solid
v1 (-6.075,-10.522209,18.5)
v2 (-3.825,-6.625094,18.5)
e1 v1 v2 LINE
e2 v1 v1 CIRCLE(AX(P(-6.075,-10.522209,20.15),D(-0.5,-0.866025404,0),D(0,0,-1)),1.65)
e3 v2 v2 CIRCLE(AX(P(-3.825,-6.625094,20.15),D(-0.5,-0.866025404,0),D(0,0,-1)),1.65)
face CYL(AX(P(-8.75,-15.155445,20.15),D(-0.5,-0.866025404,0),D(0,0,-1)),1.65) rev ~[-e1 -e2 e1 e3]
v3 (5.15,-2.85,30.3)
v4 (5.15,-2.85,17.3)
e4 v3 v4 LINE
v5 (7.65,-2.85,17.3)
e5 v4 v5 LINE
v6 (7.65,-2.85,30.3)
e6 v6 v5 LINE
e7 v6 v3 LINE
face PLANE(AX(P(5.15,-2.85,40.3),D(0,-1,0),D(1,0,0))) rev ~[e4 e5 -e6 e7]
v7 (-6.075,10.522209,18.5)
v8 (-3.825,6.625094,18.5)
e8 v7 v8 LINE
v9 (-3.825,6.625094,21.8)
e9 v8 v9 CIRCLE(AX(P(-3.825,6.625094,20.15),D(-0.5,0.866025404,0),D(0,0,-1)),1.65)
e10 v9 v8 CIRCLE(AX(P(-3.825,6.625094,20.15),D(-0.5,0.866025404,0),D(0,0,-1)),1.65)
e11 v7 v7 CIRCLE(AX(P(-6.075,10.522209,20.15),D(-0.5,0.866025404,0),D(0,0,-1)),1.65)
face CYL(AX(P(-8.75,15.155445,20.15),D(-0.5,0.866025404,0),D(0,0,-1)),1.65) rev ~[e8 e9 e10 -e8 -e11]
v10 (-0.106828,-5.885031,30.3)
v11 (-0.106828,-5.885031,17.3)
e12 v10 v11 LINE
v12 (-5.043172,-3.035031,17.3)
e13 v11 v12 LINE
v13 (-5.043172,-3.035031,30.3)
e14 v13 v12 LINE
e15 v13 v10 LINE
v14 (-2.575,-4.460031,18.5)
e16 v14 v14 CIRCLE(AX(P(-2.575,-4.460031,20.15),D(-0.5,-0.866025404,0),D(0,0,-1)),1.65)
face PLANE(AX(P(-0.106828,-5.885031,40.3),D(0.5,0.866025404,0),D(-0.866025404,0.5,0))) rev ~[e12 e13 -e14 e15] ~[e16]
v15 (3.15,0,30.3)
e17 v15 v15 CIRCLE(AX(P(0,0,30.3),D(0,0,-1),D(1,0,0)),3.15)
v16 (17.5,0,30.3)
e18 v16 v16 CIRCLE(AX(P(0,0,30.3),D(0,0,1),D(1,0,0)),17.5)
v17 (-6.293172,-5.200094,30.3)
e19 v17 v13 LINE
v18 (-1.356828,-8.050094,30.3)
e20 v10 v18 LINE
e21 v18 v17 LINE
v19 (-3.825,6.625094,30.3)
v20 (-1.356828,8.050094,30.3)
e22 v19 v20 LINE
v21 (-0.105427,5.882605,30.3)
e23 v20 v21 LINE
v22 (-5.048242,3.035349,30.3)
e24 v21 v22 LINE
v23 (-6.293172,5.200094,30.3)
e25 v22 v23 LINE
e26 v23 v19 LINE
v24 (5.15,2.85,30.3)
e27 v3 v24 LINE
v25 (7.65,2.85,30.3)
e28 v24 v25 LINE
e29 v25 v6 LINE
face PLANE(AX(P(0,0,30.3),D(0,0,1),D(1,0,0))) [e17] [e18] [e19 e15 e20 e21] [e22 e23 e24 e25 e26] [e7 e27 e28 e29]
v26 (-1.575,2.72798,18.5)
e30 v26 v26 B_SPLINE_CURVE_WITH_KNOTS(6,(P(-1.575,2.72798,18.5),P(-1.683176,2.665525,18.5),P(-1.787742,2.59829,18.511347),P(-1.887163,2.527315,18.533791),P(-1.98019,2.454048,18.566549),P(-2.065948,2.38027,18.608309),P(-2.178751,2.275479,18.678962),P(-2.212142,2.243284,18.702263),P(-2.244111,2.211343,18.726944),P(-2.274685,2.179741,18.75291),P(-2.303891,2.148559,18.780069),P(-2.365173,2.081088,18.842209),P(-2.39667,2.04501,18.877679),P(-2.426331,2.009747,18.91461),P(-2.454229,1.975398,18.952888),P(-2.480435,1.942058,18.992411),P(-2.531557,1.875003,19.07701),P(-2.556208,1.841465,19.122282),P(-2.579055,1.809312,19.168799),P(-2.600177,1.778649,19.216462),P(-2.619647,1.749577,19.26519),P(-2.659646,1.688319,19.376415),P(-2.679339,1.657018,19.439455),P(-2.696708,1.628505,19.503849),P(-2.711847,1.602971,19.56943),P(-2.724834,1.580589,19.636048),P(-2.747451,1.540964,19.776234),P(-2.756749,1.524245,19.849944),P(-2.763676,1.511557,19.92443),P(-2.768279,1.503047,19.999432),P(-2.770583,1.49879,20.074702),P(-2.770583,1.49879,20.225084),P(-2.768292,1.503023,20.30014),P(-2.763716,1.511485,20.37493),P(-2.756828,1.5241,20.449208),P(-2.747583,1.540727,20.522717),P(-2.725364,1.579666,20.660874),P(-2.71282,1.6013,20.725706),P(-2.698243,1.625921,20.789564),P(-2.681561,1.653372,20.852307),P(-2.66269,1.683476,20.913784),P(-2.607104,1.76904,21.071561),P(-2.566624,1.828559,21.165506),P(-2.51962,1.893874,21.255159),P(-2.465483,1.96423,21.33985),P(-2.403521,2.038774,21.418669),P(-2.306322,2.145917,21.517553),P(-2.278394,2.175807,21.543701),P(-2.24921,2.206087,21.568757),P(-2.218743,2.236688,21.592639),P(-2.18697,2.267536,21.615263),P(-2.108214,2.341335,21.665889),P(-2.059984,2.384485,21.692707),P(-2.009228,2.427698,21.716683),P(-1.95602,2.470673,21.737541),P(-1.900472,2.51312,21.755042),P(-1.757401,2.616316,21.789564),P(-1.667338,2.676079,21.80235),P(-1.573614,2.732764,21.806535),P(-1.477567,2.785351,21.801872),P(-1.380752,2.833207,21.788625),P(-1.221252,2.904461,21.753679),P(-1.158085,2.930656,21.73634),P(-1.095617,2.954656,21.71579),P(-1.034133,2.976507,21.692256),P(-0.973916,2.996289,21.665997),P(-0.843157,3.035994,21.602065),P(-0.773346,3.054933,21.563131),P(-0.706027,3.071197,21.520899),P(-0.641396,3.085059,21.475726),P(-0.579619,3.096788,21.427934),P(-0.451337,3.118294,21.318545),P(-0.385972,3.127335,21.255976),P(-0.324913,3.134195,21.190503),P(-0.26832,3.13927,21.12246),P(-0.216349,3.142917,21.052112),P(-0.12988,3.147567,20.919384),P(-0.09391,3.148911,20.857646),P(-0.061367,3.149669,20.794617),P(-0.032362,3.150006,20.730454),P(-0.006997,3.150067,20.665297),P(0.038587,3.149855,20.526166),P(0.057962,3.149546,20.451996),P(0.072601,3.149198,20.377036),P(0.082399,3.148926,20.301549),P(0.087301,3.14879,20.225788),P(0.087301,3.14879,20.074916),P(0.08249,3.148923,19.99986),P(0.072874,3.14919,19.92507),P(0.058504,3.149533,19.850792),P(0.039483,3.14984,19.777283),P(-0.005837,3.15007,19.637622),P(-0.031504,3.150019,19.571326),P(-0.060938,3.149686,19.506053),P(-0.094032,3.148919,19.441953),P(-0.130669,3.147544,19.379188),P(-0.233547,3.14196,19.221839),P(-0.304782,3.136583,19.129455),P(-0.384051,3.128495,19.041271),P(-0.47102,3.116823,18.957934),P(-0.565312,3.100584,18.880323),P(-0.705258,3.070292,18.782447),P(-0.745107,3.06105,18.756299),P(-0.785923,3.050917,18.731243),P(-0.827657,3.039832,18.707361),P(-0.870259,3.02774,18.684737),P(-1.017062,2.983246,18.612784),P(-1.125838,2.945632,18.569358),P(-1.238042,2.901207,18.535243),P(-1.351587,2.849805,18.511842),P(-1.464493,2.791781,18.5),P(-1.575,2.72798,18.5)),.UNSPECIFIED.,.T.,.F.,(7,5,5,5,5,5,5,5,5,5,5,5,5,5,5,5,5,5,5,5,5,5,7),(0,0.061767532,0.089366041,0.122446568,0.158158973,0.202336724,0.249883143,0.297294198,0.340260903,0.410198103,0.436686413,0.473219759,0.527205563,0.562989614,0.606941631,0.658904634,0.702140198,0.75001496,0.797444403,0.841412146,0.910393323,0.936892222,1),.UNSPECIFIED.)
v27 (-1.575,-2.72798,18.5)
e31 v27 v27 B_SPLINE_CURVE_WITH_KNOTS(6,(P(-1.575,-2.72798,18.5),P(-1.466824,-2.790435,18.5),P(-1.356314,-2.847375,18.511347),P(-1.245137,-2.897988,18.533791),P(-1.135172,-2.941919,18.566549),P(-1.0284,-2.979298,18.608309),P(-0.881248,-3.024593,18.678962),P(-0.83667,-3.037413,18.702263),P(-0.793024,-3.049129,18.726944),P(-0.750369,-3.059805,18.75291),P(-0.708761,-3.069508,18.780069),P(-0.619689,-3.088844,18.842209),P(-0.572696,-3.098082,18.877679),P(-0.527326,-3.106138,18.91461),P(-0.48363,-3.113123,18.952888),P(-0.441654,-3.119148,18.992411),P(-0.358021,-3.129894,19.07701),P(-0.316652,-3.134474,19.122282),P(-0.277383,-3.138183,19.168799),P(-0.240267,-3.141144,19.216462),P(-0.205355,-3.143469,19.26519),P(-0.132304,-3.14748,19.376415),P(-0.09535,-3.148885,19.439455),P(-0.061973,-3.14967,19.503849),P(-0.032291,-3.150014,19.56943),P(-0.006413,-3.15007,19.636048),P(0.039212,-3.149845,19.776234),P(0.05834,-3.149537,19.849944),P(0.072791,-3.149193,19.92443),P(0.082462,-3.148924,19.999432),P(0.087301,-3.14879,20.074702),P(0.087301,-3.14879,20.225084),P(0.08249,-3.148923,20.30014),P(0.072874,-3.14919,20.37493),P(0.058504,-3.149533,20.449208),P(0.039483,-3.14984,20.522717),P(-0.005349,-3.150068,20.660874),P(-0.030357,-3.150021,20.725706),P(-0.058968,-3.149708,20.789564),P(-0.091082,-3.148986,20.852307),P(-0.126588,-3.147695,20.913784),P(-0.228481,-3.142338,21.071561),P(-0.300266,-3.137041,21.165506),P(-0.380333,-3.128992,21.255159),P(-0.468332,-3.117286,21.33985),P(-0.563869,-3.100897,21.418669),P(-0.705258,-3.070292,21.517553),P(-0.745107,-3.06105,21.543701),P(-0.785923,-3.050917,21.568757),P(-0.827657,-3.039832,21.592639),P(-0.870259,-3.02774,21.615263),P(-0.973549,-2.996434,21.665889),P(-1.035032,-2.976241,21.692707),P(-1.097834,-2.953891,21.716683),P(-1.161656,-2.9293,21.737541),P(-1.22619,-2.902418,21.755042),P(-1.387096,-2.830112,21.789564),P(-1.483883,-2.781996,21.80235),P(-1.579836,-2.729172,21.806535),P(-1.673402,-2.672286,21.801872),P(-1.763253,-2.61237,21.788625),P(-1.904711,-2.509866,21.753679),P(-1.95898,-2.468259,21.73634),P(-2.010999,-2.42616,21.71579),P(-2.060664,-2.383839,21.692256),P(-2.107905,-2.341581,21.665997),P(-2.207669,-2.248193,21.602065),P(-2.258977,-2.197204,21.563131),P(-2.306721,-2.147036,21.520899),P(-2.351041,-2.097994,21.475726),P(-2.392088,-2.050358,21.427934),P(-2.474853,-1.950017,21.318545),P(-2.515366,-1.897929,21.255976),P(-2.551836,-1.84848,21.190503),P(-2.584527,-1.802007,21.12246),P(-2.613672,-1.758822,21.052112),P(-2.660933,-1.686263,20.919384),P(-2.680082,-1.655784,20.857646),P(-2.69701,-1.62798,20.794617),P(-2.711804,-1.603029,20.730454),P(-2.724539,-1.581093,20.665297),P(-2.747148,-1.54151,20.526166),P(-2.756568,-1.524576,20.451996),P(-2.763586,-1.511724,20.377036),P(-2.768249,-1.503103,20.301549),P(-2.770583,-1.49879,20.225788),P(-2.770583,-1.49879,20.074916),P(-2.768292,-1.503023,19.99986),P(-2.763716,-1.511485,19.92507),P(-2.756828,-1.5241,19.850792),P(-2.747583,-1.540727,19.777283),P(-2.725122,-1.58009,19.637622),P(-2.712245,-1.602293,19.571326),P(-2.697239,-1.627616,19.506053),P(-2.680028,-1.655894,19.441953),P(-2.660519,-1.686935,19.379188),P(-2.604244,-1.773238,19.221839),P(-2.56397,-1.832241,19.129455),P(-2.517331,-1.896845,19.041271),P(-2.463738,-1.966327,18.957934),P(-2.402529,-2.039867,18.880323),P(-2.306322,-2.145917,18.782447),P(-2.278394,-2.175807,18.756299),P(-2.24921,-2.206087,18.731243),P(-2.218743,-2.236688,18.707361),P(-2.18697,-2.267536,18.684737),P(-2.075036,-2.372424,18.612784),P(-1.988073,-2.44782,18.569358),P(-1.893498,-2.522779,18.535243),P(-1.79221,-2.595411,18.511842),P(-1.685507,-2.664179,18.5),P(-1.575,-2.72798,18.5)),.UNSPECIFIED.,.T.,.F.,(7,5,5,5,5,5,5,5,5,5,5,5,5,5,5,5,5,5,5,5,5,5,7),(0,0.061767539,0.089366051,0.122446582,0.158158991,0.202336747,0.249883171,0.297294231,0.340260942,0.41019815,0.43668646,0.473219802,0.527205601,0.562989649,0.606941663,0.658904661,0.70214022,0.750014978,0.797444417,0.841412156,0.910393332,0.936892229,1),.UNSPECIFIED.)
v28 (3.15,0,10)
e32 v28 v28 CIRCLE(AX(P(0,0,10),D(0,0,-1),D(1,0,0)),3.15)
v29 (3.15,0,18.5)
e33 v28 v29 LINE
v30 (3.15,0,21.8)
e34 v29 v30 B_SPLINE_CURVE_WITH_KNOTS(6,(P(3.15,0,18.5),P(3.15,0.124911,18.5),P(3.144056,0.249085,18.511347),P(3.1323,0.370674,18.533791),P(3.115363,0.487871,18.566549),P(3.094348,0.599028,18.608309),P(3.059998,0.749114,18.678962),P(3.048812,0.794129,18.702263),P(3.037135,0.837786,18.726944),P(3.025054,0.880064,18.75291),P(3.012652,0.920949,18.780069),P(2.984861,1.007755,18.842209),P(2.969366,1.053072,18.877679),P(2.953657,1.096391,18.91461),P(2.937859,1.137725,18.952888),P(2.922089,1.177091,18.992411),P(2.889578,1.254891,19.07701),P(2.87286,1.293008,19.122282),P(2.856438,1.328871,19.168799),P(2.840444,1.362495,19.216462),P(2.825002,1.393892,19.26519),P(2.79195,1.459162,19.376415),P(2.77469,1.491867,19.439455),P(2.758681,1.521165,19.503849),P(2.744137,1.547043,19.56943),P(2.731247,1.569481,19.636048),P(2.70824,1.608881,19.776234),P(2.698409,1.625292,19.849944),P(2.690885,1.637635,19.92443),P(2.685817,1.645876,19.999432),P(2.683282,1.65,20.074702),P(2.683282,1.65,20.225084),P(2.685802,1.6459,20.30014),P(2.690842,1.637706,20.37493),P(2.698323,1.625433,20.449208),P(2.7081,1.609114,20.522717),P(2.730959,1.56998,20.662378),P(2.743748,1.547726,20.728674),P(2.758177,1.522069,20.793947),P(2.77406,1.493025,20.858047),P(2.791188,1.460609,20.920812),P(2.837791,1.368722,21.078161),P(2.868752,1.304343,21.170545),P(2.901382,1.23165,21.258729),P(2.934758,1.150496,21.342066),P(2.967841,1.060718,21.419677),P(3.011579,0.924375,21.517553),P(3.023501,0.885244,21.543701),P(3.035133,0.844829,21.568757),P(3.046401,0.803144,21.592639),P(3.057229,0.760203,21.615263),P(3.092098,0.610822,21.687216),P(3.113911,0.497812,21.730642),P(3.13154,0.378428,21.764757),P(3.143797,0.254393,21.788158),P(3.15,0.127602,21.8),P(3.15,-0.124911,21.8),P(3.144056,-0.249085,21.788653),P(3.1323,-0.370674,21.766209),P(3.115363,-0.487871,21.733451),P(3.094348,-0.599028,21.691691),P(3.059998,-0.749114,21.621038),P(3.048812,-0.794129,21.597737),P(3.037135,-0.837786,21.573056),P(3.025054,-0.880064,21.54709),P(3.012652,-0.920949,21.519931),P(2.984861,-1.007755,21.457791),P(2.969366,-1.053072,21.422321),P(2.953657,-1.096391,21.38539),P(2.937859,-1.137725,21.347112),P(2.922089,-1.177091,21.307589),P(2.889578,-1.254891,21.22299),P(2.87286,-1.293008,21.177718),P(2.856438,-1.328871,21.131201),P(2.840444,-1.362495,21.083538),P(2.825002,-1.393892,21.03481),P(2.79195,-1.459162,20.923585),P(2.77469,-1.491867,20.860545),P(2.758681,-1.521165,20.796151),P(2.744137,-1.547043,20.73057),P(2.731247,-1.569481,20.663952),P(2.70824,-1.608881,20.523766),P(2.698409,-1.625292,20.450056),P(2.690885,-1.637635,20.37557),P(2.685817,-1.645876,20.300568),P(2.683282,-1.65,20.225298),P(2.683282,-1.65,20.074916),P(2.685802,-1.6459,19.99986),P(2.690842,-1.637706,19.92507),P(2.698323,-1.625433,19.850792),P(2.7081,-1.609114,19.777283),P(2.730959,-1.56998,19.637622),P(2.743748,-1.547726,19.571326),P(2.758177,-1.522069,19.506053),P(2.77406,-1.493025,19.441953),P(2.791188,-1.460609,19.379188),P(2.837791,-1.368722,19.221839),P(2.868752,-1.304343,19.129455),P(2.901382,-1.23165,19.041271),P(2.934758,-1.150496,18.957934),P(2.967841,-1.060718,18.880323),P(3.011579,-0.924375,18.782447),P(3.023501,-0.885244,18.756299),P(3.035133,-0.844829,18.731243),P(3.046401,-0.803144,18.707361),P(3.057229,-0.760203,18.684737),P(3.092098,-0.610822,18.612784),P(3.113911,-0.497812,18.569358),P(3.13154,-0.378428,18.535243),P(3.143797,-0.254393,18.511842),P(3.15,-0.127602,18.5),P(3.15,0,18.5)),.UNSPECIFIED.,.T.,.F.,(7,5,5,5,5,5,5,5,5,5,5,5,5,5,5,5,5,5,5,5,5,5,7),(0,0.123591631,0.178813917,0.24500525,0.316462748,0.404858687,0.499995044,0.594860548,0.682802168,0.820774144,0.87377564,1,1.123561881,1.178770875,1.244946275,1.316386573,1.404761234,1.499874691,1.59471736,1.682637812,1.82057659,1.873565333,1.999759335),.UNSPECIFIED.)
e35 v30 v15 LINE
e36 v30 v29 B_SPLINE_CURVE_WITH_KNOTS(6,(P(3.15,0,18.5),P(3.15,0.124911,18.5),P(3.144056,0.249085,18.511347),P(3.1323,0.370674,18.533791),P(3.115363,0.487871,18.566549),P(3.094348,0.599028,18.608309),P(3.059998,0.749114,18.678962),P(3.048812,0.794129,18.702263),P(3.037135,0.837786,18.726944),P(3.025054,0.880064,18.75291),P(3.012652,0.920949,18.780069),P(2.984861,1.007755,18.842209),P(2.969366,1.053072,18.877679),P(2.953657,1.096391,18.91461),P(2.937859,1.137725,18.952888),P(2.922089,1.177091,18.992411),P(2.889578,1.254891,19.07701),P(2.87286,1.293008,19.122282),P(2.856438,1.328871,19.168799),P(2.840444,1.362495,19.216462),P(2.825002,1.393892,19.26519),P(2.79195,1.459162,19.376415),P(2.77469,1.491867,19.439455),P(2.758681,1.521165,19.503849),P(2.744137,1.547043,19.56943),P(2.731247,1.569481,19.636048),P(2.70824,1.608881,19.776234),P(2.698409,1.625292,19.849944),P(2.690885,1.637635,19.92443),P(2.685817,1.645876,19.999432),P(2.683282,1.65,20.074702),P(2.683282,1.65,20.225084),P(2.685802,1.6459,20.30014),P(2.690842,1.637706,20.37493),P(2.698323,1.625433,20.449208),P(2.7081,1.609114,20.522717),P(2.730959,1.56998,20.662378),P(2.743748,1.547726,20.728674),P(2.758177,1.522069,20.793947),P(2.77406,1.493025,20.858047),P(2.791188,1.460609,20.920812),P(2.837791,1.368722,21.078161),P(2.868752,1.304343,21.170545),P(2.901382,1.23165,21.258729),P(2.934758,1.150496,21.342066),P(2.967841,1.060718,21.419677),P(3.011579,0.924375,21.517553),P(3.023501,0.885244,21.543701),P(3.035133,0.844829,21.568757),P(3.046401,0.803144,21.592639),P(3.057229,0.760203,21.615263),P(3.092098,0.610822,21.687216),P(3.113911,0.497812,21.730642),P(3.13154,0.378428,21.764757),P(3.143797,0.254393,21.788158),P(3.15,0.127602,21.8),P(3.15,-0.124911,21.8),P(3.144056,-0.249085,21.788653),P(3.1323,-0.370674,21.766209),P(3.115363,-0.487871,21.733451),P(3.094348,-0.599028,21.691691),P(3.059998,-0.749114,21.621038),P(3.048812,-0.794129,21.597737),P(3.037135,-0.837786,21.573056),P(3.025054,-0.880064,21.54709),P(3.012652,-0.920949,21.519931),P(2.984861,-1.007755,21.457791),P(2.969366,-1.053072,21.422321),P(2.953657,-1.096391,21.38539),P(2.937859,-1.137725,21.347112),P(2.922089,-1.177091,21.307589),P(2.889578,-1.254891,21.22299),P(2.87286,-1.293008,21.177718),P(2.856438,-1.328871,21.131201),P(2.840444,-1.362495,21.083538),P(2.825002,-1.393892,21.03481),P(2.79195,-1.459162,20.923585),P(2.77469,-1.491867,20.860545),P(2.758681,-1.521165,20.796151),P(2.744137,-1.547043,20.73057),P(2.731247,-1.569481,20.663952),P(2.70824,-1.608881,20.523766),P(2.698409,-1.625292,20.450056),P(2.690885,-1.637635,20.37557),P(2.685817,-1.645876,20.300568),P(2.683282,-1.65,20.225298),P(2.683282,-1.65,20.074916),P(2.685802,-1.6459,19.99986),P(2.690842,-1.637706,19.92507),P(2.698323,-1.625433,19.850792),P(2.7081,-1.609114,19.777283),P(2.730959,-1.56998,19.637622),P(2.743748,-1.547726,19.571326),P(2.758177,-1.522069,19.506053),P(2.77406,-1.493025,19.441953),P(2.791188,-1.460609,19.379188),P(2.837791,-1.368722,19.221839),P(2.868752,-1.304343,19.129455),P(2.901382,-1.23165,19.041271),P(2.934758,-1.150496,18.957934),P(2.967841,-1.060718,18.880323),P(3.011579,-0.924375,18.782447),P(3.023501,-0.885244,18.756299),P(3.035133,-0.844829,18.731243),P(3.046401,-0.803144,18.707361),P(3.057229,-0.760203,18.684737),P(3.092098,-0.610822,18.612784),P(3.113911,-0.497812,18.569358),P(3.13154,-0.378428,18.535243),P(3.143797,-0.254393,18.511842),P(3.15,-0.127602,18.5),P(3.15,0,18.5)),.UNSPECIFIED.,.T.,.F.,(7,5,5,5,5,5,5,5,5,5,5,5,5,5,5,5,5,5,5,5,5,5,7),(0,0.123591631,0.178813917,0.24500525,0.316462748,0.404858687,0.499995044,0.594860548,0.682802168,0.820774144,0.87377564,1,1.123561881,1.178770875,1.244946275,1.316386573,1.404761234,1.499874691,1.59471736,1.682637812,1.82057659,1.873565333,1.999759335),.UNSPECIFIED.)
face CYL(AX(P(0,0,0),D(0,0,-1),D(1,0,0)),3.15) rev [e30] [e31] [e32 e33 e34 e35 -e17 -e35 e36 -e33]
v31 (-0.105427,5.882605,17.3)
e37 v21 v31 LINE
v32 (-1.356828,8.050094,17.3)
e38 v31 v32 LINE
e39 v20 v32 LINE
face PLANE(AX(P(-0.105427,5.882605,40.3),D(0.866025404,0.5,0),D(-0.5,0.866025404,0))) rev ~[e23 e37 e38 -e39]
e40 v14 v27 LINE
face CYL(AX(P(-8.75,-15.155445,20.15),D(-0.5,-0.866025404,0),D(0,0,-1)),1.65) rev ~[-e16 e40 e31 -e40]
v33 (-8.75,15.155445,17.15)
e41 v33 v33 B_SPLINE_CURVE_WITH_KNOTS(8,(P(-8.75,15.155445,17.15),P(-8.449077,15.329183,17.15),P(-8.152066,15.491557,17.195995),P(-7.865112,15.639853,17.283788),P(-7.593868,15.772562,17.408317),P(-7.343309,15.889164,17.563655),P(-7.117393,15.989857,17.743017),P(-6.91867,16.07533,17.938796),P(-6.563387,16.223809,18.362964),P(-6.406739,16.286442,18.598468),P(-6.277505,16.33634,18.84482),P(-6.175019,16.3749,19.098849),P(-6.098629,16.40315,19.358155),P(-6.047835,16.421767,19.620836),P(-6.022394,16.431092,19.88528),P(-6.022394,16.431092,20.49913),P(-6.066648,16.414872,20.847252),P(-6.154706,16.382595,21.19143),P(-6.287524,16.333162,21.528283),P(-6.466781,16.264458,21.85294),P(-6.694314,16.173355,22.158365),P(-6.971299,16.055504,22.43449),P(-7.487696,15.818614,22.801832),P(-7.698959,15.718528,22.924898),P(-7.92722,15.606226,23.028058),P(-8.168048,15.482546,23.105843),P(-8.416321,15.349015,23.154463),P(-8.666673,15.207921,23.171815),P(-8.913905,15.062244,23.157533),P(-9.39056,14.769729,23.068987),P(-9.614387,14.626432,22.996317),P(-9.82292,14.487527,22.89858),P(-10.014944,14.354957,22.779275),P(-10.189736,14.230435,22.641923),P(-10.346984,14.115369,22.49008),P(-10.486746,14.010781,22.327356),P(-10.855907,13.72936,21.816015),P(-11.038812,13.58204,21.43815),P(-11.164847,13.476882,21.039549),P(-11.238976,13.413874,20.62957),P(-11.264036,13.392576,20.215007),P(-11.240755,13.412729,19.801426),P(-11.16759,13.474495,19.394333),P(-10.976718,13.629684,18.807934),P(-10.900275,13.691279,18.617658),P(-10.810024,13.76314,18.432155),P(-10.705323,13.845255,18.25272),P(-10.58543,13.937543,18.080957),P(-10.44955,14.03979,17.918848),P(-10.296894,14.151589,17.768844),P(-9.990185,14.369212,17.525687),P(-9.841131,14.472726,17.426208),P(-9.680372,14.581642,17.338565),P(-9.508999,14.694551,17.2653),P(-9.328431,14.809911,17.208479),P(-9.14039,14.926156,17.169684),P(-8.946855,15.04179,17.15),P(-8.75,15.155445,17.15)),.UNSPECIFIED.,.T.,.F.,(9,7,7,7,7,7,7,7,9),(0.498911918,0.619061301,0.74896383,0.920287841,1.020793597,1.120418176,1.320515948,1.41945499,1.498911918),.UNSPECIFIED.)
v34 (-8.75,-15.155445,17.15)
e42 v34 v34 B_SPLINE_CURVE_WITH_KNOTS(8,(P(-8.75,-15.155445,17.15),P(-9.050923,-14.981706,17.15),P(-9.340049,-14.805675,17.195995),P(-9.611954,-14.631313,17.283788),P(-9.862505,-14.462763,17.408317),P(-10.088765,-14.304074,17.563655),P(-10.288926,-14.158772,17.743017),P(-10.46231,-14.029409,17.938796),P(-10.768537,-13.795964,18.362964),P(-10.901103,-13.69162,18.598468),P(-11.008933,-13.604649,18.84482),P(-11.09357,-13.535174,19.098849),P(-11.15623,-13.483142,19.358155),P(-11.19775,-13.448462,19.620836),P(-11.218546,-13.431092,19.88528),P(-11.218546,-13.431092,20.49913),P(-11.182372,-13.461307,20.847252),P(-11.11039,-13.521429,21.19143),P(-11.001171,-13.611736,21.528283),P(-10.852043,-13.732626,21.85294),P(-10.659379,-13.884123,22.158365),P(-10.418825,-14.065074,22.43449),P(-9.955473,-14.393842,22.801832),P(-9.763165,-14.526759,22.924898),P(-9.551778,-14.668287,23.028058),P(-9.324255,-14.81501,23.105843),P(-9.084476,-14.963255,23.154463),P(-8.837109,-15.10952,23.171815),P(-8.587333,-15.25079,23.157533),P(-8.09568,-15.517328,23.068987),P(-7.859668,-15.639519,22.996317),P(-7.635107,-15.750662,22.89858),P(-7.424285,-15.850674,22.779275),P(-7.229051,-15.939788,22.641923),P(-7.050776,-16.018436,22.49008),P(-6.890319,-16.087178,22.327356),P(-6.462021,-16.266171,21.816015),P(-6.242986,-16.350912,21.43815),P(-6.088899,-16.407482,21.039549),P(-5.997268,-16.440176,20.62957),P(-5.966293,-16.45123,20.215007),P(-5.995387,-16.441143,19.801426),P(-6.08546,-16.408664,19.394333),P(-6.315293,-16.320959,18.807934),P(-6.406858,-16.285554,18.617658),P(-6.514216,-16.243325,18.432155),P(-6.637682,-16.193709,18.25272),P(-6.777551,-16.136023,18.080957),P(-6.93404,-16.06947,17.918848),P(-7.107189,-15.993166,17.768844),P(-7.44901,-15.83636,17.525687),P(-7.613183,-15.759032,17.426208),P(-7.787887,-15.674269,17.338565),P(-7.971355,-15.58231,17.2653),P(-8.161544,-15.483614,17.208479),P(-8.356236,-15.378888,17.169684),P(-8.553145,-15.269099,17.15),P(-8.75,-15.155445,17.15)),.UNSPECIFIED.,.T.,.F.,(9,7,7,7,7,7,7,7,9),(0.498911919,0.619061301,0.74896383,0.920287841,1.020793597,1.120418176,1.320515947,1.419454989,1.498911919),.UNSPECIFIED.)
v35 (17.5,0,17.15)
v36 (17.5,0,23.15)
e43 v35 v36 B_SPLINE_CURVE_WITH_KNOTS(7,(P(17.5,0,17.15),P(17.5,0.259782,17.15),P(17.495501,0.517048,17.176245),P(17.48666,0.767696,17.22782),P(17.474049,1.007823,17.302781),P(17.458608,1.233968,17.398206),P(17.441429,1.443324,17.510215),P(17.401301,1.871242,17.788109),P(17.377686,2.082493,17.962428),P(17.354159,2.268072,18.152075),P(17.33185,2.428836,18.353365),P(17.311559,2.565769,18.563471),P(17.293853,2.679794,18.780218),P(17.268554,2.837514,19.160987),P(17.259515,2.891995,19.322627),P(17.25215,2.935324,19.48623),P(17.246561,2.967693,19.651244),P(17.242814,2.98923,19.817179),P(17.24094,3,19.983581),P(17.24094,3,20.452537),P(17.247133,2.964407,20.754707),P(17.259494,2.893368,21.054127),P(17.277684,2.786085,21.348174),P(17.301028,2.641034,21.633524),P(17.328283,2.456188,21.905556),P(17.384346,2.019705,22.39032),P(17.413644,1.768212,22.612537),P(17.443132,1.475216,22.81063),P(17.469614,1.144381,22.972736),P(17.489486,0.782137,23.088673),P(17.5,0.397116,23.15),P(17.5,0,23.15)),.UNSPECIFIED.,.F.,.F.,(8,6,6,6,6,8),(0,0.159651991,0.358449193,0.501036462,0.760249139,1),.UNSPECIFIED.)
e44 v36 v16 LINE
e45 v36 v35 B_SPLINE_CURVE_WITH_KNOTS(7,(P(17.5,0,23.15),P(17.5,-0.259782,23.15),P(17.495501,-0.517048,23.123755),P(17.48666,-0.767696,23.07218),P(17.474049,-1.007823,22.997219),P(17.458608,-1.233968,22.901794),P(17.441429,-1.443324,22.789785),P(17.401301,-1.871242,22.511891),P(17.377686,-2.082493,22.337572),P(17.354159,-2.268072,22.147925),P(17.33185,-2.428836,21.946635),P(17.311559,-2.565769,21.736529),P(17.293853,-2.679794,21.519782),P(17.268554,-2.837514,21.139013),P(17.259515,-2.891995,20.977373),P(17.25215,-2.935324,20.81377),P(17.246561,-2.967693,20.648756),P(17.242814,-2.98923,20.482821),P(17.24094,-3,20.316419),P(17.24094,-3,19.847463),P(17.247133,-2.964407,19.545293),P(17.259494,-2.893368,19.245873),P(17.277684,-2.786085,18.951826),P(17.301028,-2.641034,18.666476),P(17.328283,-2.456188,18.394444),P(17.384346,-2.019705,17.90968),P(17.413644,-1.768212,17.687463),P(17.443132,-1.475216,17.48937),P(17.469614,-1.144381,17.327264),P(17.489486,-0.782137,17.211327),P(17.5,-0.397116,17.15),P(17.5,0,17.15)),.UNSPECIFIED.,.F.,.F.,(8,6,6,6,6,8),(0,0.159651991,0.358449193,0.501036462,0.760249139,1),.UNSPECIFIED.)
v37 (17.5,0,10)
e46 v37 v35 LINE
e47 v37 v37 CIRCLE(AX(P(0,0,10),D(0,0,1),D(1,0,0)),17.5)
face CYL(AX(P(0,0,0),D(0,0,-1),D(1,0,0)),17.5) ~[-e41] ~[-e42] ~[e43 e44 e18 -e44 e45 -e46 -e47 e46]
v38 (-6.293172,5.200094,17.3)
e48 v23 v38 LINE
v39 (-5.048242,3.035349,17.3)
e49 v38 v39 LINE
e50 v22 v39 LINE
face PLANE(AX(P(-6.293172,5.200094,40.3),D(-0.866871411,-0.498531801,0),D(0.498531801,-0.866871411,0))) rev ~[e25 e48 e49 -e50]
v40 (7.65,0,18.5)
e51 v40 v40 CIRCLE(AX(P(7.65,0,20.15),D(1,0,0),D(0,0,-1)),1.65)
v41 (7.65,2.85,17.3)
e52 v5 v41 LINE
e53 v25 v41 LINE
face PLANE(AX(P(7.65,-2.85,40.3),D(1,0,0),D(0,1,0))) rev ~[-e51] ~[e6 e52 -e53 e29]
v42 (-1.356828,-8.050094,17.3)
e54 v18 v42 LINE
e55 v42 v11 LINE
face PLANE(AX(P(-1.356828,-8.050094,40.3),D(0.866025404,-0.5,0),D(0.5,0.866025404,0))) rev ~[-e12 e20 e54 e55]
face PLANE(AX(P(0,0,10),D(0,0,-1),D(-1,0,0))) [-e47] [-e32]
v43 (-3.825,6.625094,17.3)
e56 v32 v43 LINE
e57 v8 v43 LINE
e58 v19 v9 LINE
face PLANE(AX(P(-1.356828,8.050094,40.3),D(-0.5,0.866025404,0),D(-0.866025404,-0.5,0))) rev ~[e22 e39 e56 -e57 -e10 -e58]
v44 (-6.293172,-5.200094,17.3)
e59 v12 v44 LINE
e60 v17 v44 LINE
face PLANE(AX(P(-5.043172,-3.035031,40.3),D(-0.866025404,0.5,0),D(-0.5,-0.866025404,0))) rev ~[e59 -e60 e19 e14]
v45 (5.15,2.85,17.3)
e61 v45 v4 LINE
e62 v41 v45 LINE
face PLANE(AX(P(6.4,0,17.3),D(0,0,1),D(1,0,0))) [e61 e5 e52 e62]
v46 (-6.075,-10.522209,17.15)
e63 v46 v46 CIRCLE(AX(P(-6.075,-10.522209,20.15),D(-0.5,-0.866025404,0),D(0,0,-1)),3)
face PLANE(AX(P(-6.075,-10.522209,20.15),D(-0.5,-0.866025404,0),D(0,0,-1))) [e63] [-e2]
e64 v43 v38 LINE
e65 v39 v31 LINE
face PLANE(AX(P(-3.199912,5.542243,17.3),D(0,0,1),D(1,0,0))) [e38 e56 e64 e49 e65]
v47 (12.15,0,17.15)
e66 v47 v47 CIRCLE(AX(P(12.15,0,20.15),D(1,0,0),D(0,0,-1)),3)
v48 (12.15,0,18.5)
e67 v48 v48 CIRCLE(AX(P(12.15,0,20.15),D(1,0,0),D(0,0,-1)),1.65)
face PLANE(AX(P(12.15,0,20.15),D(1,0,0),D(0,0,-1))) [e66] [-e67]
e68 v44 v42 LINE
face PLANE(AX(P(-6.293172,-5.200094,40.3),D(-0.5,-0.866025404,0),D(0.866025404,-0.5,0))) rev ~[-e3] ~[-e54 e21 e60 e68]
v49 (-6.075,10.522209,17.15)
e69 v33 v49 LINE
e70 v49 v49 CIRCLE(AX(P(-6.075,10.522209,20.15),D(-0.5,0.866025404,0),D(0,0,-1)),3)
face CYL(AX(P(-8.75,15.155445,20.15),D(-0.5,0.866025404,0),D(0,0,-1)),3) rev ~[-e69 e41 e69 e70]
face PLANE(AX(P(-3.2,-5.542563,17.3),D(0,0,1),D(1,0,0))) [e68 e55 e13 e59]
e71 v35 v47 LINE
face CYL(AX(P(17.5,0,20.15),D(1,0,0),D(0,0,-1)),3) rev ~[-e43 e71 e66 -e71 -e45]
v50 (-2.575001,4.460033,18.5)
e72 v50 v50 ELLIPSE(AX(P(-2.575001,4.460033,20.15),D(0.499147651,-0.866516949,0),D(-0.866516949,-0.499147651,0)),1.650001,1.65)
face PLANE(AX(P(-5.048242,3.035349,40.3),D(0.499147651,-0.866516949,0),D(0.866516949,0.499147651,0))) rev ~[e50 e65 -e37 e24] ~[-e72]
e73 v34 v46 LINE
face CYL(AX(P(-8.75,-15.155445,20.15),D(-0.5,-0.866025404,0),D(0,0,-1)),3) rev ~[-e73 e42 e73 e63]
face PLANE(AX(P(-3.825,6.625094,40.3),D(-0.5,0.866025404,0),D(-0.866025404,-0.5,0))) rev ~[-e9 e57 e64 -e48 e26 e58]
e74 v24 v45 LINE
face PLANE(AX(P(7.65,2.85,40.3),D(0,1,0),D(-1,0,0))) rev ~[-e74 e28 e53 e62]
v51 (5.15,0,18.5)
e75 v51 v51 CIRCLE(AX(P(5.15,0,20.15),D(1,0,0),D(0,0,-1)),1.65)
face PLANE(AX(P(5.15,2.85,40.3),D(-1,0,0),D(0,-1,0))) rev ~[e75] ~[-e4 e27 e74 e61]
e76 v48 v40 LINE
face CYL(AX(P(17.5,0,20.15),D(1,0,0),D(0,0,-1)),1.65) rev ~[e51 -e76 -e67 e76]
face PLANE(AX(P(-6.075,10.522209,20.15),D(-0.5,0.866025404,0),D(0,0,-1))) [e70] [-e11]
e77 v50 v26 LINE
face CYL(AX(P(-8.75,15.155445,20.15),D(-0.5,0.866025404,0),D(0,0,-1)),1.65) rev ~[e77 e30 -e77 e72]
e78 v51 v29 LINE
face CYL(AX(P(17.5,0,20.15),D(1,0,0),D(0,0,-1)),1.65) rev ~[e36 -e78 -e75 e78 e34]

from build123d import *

# Parameters (mm, degrees)
SKETCH1_R           = 17.5
SKETCH1_R_2         = 3.15
BOSS_EXTRUDE1_DEPTH = 40.3
CUT_EXTRUDE1_DEPTH  = 23
CUT_EXTRUDE4_REACH  = 43.405
SKETCH8_R           = 1.65
CUT_EXTRUDE5_REACH  = 43.405
SKETCH10_R          = 1.65
SKETCH12_R          = 3
CUT_EXTRUDE6_DEPTH  = 5.35
SKETCH15_R          = 3
CUT_EXTRUDE8_DEPTH  = 5.35
CUT_EXTRUDE9_REACH  = 43.405
SKETCH17_R          = 1.65
CUT_EXTRUDE10_REACH = 43.405
SKETCH18_R          = 1.65
SKETCH19_R          = 3
CUT_EXTRUDE11_DEPTH = 5.35
CUT_EXTRUDE12_REACH = 37
SKETCH20_R          = 1.65
CUT_EXTRUDE13_REACH = 37
SKETCH21_R          = 1.65
SKETCH22_R          = 17.5
CUT_EXTRUDE14_DEPTH = 10
SKETCH23_R          = 17.5
CUT_EXTRUDE15_DEPTH = 10


with BuildPart() as part:
    # Sketch1 → Boss-Extrude1 (new body)
    with BuildSketch(Plane.XY):
        Circle(SKETCH1_R)
        Circle(SKETCH1_R_2, mode=Mode.SUBTRACT)
    extrude(amount=BOSS_EXTRUDE1_DEPTH)

    # Sketch2 → Cut-Extrude1 (cut)
    with BuildSketch(Plane.XY.offset(40.3)):
        Polygon((7.65, 0), (7.65, 2.85), (5.15, 2.85), (5.15, -2.85), (7.65, -2.85), align=None)
        Polygon((-3.825, -6.625094339), (-1.356827599, -8.050094339), (-0.106827599, -5.885030829), (-5.043172401, -3.035030829), (-6.293172401, -5.200094339), align=None)
        Polygon((-3.825, 6.625094339), (-6.293172401, 5.200094339), (-5.048242412, 3.035349353), (-0.105426694, 5.882604512), (-1.356827546, 8.050094369), align=None)
    extrude(amount=-CUT_EXTRUDE1_DEPTH, mode=Mode.SUBTRACT)

    # Sketch8 → Cut-Extrude4 (cut, up to next)
    with BuildSketch(Plane(origin=(-8.75, -15.155444566, 0), x_dir=(0, 0, -1), z_dir=(-0.5, -0.866025404, 0)), mode=Mode.PRIVATE) as cut_extrude4_sk1:
        with Locations((-20.15, 0)):
            Circle(SKETCH8_R)
    cut_extrude4_tool1 = extrude(cut_extrude4_sk1.sketch, amount=-CUT_EXTRUDE4_REACH, mode=Mode.PRIVATE) & part.part
    add(cut_extrude4_tool1.solids().sort_by_distance((-8.75, -15.155445, 20.15))[0], mode=Mode.SUBTRACT)

    # Sketch10 → Cut-Extrude5 (cut, up to next)
    with BuildSketch(Plane(origin=(-8.75, -15.155444566, 0), x_dir=(0, 0, -1), z_dir=(-0.5, -0.866025404, 0)), mode=Mode.PRIVATE) as cut_extrude5_sk1:
        with Locations((-20.15, 0)):
            Circle(SKETCH10_R)
    cut_extrude5_tool1 = extrude(cut_extrude5_sk1.sketch, amount=-CUT_EXTRUDE5_REACH, mode=Mode.PRIVATE) & part.part
    add(cut_extrude5_tool1.solids().sort_by_distance((-8.75, -15.155445, 20.15))[0], mode=Mode.SUBTRACT)

    # Sketch12 → Cut-Extrude6 (cut)
    with BuildSketch(Plane(origin=(-8.75, -15.155444566, 0), x_dir=(0, 0, -1), z_dir=(-0.5, -0.866025404, 0))):
        with Locations((-20.15, 0)):
            Circle(SKETCH12_R)
    extrude(amount=-CUT_EXTRUDE6_DEPTH, mode=Mode.SUBTRACT)

    # Sketch15 → Cut-Extrude8 (cut)
    with BuildSketch(Plane(origin=(-8.75, 15.155444566, 0), x_dir=(0, 0, -1), z_dir=(-0.5, 0.866025404, 0))):
        with Locations((-20.15, 0)):
            Circle(SKETCH15_R)
    extrude(amount=-CUT_EXTRUDE8_DEPTH, mode=Mode.SUBTRACT)

    # Sketch17 → Cut-Extrude9 (cut, up to next)
    with BuildSketch(Plane(origin=(-8.75, 15.155444566, 0), x_dir=(0, 0, -1), z_dir=(-0.5, 0.866025404, 0)), mode=Mode.PRIVATE) as cut_extrude9_sk1:
        with Locations((-20.15, 0)):
            Circle(SKETCH17_R)
    cut_extrude9_tool1 = extrude(cut_extrude9_sk1.sketch, amount=-CUT_EXTRUDE9_REACH, mode=Mode.PRIVATE) & part.part
    add(cut_extrude9_tool1.solids().sort_by_distance((-8.75, 15.155445, 20.15))[0], mode=Mode.SUBTRACT)

    # Sketch18 → Cut-Extrude10 (cut, up to next)
    with BuildSketch(Plane(origin=(-8.75, 15.155444566, 0), x_dir=(0, 0, -1), z_dir=(-0.5, 0.866025404, 0)), mode=Mode.PRIVATE) as cut_extrude10_sk1:
        with Locations((-20.15, 0)):
            Circle(SKETCH18_R)
    cut_extrude10_tool1 = extrude(cut_extrude10_sk1.sketch, amount=-CUT_EXTRUDE10_REACH, mode=Mode.PRIVATE) & part.part
    add(cut_extrude10_tool1.solids().sort_by_distance((-8.75, 15.155445, 20.15))[0], mode=Mode.SUBTRACT)

    # Sketch19 → Cut-Extrude11 (cut)
    with BuildSketch(Plane(origin=(17.5, 0, 0), x_dir=(0, 0, -1), z_dir=(1, 0, 0))):
        with Locations((-20.15, 0)):
            Circle(SKETCH19_R)
    extrude(amount=-CUT_EXTRUDE11_DEPTH, mode=Mode.SUBTRACT)

    # Sketch20 → Cut-Extrude12 (cut, up to next)
    with BuildSketch(Plane(origin=(17.5, 0, 0), x_dir=(0, 0, -1), z_dir=(1, 0, 0)), mode=Mode.PRIVATE) as cut_extrude12_sk1:
        with Locations((-20.15, 0)):
            Circle(SKETCH20_R)
    cut_extrude12_tool1 = extrude(cut_extrude12_sk1.sketch, amount=-CUT_EXTRUDE12_REACH, mode=Mode.PRIVATE) & part.part
    add(cut_extrude12_tool1.solids().sort_by_distance((17.5, 0, 20.15))[0], mode=Mode.SUBTRACT)

    # Sketch21 → Cut-Extrude13 (cut, up to next)
    with BuildSketch(Plane(origin=(17.5, 0, 0), x_dir=(0, 0, -1), z_dir=(1, 0, 0)), mode=Mode.PRIVATE) as cut_extrude13_sk1:
        with Locations((-20.15, 0)):
            Circle(SKETCH21_R)
    cut_extrude13_tool1 = extrude(cut_extrude13_sk1.sketch, amount=-CUT_EXTRUDE13_REACH, mode=Mode.PRIVATE) & part.part
    add(cut_extrude13_tool1.solids().sort_by_distance((17.5, 0, 20.15))[0], mode=Mode.SUBTRACT)

    # Sketch22 → Cut-Extrude14 (cut)
    with BuildSketch(Plane(origin=(0, 0, 0), x_dir=(-1, 0, 0), z_dir=(0, 0, -1))):
        Circle(SKETCH22_R)
    extrude(amount=-CUT_EXTRUDE14_DEPTH, mode=Mode.SUBTRACT)

    # Sketch23 → Cut-Extrude15 (cut)
    with BuildSketch(Plane.XY.offset(40.3)):
        Circle(SKETCH23_R)
    extrude(amount=-CUT_EXTRUDE15_DEPTH, mode=Mode.SUBTRACT)


solid = part.part
